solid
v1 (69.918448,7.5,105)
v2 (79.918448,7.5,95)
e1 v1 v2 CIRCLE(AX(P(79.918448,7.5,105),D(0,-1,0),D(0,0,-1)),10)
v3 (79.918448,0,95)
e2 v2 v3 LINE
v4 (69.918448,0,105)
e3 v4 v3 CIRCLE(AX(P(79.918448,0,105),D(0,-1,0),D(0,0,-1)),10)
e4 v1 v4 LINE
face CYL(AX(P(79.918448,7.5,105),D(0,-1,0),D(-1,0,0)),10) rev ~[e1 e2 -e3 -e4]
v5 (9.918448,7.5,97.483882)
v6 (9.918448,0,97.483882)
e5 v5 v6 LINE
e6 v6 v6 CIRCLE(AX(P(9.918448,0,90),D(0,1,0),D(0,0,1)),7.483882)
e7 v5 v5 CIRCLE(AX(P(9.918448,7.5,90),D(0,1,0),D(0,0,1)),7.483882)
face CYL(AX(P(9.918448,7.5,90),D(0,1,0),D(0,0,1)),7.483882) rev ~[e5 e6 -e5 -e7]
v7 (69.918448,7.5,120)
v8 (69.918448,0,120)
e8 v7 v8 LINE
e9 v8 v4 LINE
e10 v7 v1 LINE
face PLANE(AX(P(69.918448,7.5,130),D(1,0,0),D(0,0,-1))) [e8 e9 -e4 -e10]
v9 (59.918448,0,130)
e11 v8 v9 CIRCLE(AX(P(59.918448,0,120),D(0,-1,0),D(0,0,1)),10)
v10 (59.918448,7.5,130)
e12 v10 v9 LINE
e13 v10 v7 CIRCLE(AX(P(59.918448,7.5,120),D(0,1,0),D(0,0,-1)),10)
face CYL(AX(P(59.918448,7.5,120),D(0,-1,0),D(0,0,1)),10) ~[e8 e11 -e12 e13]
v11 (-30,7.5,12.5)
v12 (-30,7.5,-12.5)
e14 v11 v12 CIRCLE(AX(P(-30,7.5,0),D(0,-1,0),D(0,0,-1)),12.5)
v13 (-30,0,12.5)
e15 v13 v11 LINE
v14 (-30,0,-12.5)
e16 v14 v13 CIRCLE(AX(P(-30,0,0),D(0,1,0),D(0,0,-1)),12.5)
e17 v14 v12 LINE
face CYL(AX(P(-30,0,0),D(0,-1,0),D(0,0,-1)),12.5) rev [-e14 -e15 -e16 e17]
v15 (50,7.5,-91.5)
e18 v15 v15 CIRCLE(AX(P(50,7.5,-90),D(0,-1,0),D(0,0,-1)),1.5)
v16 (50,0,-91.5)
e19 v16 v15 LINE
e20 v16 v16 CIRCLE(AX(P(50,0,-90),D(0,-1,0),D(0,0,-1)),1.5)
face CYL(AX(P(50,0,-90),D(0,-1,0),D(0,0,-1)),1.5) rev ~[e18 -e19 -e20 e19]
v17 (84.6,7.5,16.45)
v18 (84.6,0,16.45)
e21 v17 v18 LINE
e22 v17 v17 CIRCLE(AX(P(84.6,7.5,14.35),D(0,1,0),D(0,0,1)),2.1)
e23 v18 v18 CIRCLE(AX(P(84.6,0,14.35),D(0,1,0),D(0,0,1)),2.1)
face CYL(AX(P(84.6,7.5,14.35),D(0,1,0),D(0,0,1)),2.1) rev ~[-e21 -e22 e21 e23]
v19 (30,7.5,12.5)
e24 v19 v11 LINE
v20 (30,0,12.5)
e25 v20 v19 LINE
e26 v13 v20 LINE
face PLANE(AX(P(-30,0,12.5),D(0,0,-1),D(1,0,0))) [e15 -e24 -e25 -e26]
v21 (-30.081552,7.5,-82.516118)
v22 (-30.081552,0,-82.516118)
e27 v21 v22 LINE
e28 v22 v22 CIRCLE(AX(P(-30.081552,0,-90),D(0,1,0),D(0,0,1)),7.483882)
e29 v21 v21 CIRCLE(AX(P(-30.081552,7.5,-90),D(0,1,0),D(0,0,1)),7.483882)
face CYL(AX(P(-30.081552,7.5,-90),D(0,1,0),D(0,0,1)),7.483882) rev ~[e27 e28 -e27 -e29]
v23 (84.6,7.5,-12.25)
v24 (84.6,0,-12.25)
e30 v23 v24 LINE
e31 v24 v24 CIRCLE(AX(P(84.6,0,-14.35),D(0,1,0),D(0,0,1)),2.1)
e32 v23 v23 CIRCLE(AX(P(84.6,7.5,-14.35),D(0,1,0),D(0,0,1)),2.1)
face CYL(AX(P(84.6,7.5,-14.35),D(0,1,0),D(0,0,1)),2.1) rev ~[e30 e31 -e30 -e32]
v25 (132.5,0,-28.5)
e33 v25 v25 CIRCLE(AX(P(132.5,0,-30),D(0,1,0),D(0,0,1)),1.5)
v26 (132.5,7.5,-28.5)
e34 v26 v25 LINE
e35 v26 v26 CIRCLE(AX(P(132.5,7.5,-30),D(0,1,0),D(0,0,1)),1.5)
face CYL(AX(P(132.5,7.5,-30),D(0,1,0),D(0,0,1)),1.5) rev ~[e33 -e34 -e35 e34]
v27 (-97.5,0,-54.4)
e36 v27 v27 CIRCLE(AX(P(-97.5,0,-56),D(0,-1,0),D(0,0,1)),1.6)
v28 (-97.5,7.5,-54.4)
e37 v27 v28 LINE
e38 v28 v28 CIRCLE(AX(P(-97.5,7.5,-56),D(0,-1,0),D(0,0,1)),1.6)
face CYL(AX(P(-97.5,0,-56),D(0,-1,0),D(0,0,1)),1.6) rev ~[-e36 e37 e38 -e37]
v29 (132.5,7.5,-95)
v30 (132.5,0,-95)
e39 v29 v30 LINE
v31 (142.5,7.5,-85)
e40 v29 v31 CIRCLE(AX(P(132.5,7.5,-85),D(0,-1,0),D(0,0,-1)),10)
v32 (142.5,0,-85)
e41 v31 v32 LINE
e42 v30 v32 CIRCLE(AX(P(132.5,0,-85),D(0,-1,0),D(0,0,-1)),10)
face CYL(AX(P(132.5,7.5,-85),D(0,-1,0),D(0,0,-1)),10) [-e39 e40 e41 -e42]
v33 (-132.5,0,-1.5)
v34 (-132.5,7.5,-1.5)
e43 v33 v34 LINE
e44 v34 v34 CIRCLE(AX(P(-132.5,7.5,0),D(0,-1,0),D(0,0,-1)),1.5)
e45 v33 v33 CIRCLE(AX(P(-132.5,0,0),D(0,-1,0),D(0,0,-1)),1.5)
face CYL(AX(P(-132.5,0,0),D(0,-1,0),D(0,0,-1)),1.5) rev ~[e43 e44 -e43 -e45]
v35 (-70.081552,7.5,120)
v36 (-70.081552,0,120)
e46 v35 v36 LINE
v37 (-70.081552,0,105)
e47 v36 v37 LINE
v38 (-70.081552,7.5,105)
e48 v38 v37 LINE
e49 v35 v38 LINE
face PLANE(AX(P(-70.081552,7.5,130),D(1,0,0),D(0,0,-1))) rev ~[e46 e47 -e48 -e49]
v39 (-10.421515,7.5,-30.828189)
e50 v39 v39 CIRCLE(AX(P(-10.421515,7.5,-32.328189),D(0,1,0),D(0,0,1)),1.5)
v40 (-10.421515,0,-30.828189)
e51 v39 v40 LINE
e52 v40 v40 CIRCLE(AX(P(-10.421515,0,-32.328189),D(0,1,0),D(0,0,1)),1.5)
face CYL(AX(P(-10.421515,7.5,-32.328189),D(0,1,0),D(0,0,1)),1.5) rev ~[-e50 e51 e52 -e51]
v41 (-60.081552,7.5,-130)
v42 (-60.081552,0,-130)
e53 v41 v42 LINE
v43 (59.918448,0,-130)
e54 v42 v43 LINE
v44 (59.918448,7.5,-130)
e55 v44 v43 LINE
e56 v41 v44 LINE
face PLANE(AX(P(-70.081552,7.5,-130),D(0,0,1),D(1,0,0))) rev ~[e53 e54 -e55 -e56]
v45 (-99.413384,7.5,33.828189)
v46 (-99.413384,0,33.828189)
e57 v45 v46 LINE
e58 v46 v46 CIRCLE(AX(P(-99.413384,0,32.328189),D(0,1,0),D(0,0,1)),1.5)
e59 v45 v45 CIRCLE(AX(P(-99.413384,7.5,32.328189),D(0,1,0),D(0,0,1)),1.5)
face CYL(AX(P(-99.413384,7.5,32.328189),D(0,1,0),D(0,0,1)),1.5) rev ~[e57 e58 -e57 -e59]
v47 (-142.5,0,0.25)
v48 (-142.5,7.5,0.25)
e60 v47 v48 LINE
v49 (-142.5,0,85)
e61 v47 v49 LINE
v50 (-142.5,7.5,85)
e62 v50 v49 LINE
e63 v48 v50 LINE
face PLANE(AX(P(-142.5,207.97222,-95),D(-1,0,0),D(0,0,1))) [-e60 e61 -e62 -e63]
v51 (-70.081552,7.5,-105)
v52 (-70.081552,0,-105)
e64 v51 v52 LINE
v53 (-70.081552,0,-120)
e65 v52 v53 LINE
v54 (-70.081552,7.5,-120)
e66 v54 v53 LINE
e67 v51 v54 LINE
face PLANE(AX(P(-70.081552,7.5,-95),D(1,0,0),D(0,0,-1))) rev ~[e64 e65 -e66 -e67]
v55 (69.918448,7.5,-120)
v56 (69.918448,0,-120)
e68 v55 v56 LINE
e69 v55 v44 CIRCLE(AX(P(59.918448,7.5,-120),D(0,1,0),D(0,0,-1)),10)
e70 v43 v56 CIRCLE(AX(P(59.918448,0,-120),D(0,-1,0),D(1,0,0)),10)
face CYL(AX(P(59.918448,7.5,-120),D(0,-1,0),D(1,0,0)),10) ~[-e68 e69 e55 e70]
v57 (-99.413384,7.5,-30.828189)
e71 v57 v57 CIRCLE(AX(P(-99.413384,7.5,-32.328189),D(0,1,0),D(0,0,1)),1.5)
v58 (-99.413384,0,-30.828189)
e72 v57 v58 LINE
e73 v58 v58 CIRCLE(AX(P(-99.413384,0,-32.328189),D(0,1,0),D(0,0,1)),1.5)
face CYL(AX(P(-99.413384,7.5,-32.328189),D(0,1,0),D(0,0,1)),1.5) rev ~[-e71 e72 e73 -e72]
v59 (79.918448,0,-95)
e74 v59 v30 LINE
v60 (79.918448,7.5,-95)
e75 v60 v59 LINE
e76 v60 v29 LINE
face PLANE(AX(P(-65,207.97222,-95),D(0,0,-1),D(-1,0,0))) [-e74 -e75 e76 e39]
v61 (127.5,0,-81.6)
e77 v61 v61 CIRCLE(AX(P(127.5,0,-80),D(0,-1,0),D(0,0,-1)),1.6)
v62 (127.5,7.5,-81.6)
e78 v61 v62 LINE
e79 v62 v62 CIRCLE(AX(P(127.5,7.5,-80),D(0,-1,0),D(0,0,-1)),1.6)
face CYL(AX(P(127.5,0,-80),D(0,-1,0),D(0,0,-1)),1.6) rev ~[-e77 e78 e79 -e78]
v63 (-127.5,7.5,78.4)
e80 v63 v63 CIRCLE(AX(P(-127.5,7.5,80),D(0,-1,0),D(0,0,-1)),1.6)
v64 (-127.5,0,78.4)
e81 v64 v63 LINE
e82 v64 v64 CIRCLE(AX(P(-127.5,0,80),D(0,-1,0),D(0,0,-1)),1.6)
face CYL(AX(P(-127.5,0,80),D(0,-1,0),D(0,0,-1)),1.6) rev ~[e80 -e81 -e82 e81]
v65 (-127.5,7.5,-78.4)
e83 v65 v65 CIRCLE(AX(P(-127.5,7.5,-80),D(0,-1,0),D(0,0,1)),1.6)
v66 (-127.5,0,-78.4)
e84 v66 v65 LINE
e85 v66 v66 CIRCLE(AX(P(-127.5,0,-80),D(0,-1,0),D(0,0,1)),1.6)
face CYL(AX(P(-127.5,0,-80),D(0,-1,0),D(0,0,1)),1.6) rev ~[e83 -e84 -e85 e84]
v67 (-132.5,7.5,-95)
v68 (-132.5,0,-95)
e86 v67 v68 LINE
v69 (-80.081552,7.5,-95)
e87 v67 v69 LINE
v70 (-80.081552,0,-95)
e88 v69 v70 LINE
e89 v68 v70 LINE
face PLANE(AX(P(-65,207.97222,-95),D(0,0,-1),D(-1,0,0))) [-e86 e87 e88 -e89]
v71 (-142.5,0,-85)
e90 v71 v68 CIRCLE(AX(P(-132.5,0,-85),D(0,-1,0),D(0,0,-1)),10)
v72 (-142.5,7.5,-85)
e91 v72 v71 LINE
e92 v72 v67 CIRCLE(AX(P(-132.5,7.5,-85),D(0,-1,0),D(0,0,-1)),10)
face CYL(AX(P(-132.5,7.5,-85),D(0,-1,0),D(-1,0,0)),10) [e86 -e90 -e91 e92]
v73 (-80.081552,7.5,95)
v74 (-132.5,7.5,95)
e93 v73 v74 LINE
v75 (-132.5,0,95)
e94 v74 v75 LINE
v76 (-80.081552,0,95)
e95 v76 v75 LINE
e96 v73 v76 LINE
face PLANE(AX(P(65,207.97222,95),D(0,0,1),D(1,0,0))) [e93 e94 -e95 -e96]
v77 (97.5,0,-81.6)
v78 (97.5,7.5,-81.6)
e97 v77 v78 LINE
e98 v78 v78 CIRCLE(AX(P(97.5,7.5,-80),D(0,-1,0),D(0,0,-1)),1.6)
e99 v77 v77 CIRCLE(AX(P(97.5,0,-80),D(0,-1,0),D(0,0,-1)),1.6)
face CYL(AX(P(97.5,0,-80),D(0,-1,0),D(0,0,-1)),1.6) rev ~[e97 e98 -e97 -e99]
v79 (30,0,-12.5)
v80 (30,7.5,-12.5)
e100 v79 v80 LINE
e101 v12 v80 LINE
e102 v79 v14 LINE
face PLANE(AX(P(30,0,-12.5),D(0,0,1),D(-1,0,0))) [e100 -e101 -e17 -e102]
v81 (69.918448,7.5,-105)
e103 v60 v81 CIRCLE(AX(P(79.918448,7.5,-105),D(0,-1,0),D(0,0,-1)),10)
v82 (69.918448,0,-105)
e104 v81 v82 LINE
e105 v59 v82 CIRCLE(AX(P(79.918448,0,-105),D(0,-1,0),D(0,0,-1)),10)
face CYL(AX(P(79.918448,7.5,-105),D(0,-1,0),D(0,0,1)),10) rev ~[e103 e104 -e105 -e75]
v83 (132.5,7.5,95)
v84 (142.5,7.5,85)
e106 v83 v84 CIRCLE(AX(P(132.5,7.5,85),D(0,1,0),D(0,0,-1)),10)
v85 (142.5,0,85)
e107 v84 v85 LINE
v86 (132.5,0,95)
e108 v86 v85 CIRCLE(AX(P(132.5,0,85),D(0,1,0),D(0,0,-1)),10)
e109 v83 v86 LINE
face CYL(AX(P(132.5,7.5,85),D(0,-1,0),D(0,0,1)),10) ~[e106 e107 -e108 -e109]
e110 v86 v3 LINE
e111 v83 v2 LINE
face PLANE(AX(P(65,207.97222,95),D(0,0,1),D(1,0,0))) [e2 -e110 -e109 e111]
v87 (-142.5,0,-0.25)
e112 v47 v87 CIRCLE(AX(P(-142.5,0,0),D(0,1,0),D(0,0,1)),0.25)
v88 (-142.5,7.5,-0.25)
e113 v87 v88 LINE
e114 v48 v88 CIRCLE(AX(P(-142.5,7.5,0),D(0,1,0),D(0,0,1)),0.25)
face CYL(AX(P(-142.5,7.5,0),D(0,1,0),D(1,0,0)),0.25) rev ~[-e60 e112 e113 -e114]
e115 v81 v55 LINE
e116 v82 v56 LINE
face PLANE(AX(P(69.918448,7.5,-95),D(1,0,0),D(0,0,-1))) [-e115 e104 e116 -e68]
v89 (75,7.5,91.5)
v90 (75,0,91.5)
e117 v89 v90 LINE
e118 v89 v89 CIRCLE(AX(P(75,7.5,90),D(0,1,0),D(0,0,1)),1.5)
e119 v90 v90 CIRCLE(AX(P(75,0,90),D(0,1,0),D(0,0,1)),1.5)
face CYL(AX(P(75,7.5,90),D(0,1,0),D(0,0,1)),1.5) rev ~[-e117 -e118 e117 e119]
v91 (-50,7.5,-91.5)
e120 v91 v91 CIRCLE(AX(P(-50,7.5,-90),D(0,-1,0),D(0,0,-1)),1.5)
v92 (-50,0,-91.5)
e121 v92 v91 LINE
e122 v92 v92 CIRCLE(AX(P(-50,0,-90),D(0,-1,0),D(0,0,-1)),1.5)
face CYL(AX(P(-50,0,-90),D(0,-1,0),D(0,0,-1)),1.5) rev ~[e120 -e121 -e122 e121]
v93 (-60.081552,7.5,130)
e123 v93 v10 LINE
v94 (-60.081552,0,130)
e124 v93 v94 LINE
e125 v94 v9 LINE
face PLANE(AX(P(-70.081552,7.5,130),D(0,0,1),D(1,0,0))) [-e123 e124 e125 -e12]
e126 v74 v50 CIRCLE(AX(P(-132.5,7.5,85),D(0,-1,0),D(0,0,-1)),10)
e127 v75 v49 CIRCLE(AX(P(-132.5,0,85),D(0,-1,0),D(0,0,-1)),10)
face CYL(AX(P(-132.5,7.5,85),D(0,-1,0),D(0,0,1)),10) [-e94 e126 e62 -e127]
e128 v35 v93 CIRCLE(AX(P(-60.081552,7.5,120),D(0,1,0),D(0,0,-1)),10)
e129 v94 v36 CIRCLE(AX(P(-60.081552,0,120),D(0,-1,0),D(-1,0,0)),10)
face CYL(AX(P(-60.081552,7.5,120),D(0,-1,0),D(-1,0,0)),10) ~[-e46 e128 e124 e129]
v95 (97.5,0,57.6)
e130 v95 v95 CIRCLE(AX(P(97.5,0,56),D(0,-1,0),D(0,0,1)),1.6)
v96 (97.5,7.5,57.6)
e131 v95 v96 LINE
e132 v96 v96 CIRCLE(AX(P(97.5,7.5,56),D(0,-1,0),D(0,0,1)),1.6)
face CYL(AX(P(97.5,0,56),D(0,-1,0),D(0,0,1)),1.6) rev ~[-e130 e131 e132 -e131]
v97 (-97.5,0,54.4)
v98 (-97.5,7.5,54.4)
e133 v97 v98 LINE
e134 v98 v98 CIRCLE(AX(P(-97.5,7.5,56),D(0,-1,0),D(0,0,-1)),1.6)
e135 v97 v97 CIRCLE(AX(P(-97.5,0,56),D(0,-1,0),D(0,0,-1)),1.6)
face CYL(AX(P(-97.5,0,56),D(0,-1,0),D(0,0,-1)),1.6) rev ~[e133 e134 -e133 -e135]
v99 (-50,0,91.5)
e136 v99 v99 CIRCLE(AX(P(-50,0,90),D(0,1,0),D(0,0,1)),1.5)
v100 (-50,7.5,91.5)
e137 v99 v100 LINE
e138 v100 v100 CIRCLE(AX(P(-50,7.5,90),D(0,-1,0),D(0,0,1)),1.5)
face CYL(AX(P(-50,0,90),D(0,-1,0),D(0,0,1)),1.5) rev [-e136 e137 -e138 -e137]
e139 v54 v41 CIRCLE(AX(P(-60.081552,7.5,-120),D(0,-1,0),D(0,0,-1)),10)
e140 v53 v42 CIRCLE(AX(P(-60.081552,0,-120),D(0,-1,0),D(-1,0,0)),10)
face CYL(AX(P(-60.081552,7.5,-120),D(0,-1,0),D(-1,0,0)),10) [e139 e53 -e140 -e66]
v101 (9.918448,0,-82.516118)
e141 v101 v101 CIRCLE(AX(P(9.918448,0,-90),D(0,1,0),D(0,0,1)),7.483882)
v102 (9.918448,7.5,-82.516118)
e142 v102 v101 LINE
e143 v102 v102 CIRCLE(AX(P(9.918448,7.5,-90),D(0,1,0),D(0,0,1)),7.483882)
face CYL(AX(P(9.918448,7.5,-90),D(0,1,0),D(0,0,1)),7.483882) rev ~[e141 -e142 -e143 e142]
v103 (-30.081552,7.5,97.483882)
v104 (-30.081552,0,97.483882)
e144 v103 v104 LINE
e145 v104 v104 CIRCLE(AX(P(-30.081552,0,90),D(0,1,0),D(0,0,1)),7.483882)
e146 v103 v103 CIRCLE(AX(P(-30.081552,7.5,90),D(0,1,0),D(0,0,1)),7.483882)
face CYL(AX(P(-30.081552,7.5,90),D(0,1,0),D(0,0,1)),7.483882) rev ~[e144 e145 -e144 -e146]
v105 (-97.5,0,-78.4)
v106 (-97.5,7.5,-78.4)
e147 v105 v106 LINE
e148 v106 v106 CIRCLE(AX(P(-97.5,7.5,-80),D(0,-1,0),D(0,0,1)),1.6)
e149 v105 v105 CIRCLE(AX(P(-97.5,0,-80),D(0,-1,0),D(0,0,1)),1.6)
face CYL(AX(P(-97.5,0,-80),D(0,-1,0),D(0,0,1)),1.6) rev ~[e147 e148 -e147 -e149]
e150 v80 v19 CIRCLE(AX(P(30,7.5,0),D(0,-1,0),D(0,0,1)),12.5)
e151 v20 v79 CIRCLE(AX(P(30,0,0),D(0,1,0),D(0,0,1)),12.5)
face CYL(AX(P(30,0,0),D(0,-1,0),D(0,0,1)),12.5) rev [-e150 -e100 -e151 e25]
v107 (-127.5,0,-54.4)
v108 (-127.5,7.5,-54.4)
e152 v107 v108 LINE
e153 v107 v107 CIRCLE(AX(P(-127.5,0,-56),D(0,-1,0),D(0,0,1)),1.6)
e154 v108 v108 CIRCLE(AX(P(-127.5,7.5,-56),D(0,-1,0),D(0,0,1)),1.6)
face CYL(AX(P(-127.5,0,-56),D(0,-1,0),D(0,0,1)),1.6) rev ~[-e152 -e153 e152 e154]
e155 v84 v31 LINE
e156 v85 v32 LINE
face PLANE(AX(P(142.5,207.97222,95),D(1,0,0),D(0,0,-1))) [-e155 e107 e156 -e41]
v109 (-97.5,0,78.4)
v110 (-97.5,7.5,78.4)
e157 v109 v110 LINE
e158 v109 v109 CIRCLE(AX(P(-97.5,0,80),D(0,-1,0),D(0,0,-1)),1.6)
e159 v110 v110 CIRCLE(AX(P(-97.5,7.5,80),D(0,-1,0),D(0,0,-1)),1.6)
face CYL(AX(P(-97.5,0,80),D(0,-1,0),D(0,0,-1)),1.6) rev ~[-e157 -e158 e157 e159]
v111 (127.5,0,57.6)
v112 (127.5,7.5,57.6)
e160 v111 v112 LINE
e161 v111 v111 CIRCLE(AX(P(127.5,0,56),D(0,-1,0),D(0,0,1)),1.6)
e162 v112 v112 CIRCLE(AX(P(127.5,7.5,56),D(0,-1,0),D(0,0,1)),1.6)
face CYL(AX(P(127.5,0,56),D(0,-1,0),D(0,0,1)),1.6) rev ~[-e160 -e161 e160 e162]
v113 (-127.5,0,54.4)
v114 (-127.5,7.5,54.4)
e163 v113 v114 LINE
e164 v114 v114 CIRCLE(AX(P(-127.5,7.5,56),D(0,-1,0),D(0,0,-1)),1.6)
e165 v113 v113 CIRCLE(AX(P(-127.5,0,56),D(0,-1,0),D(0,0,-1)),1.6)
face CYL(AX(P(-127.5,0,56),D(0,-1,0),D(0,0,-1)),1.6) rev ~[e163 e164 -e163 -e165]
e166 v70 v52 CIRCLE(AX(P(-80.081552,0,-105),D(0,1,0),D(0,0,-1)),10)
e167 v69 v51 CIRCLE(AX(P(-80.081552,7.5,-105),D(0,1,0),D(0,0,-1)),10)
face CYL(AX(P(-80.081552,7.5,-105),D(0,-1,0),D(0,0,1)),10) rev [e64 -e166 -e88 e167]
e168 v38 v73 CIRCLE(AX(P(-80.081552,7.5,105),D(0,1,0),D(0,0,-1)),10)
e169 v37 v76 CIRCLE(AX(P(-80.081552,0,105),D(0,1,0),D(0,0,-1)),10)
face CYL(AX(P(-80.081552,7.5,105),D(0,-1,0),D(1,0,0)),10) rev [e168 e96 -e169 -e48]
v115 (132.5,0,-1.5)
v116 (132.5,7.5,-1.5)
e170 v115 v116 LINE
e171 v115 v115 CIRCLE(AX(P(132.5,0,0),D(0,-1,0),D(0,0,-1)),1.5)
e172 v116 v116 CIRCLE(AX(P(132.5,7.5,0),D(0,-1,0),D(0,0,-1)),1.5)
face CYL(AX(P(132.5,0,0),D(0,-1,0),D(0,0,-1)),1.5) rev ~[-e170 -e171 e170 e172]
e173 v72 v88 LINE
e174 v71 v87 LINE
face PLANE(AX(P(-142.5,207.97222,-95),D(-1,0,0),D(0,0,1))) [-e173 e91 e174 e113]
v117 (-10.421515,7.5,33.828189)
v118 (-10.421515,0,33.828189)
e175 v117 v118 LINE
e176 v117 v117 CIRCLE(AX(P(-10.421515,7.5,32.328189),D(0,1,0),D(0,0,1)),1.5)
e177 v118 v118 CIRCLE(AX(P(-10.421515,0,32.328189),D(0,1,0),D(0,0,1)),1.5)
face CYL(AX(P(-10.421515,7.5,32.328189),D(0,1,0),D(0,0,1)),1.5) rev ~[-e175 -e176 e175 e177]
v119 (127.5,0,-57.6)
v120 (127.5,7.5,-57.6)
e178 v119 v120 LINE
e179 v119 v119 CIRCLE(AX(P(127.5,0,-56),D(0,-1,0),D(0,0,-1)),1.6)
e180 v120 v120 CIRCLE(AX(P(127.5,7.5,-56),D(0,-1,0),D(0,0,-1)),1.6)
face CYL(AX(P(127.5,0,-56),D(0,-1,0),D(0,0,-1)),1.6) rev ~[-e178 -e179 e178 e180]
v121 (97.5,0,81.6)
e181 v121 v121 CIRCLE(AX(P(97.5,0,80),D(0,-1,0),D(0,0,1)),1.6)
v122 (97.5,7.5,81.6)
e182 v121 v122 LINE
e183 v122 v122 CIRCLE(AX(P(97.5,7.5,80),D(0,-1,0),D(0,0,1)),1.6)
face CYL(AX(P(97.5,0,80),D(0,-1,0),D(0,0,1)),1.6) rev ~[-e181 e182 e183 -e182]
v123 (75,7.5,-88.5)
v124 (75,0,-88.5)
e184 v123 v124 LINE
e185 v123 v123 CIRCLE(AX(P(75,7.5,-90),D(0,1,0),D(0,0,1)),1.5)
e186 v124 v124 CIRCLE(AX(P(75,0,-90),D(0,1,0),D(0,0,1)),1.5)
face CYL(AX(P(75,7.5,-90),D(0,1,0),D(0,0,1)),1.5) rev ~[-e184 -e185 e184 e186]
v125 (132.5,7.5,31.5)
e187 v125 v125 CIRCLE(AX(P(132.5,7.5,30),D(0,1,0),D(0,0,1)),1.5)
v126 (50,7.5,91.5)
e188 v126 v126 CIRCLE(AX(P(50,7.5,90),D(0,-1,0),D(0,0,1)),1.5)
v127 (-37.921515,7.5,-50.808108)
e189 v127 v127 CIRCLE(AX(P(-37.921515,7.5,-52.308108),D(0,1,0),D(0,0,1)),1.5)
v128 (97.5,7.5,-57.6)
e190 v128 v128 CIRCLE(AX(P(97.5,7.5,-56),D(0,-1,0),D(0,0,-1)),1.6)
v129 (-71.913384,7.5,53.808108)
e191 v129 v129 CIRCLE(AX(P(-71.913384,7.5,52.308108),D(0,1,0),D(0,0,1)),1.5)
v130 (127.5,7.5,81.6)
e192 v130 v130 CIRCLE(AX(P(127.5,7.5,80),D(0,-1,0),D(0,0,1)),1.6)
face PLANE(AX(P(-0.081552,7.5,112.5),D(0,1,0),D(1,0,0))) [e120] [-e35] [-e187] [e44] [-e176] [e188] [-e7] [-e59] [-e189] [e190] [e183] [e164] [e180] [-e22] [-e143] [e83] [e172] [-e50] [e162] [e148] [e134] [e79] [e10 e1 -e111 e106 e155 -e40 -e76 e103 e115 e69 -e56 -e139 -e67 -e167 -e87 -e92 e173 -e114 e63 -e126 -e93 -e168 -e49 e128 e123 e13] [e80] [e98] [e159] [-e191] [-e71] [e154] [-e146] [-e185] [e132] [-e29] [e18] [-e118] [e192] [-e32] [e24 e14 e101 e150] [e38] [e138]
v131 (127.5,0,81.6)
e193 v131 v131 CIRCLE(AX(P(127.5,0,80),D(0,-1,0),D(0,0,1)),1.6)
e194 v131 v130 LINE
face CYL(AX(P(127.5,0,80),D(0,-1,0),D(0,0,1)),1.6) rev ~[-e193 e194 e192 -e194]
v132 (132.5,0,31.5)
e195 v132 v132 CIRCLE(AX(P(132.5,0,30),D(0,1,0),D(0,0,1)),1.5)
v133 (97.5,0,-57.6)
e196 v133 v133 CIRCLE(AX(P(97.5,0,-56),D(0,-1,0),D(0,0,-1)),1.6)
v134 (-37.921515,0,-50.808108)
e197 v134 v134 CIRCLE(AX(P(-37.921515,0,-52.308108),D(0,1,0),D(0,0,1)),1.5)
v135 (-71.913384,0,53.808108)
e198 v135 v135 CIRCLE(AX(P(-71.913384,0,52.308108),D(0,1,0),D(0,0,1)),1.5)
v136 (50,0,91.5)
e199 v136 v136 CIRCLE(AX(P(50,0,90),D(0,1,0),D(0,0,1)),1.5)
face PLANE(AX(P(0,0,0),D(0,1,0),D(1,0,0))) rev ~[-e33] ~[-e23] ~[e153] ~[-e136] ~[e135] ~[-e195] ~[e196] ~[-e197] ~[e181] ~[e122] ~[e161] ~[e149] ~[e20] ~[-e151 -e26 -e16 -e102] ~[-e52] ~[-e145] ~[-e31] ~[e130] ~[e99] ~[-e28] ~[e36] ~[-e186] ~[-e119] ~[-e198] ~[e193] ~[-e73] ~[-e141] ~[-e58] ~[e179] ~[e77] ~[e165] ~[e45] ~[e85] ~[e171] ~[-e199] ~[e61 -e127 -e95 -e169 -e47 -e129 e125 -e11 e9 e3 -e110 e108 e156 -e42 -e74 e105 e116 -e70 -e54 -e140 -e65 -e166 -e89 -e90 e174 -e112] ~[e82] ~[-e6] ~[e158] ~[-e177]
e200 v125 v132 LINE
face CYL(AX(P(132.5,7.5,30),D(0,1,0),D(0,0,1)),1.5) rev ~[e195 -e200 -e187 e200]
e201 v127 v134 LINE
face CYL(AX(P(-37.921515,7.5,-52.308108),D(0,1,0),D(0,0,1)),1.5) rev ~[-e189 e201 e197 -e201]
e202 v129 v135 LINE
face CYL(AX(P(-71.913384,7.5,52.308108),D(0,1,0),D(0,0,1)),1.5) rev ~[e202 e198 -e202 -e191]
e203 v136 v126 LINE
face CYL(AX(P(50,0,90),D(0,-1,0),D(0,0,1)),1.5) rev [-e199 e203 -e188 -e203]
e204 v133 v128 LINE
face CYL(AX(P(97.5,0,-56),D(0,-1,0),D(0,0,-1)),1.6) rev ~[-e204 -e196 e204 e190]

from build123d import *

# Parameters (mm, degrees)
SKETCH_1_W                = 300
SKETCH_1_H                = 300
EXTRUDE_1_DEPTH           = 7.5
SKETCH_2_W                = 80
SKETCH_2_H                = 50
CUT_EXTRUDE_1_DEPTH       = 50
SKETCH_3_R                = 1.6
SKETCH_3_R_2              = 1.600000001
SKETCH_3_R_3              = 1.599999999
CUT_EXTRUDE_2_DEPTH       = 500
CUT_EXTRUDE_4_DEPTH       = 0.01
SKETCH_6_W                = 140
SKETCH_6_H                = 5
CUT_EXTRUDE_5_DEPTH       = 400
SKETCH_7_W                = 140
SKETCH_7_H                = 5
CUT_EXTRUDE_6_DEPTH       = 500
SKETCH_8_W                = 2.5
SKETCH_8_H                = 200
CUT_EXTRUDE_7_DEPTH       = 500
SKETCH_9_W                = 2.5
SKETCH_9_H                = 200
CUT_EXTRUDE_8_DEPTH       = 500
FILLET_1_R                = 10
FILLET_2_R                = 10
FILLET_3_R                = 10
FILLET_4_R                = 10
FILLET_5_R                = 10
FILLET_6_R                = 10
SKETCH_11_R               = 1.5
CUT_EXTRUDE_9_DEPTH       = 500
SKETCH_12_R               = 1.5
CUT_EXTRUDE_10_DEPTH      = 500
CUT_EXTRUDE_11_DEPTH      = 50
SKETCH_14_R               = 5.782308343
SKETCH_14_R_2             = 5.248483765
SKETCH_14_R_3             = 6.275259234
SKETCH_14_R_4             = 6.509804592
SKETCH_14_R_5             = 6.573235723
SKETCH_14_R_6             = 7.165134631
SKETCH_14_R_7             = 4.888351542
SKETCH_14_R_8             = 5.806631969
SKETCH_14_R_9             = 4.239213073
EXTRUDE_2_DEPTH           = 7.5
SKETCH_15_R               = 3.446800016
EXTRUDE_3_DEPTH           = 7.5
SKETCH_16_W               = 57.029416174
SKETCH_16_H               = 109.049491738
EXTRUDE_4_DEPTH           = 7.5
CUT_EXTRUDE_12_DEPTH      = 30
SKETCH_18_R               = 1.5
CUT_EXTRUDE_13_DEPTH      = 10
EXTRUDE_5_DEPTH           = 7.5
SKETCH_20_R               = 0.5
CUT_EXTRUDE_14_DEPTH      = 1000
CUT_EXTRUDE_15_DEPTH      = 207.972220358
CUT_EXTRUDE_15_DEPTH_BACK = 207.972220358
SKETCH_21_OUTSIDE_W       = 379.748
SKETCH_21_OUTSIDE_H       = 374.748
SKETCH_23_R               = 4.616010881
SKETCH_23_R_2             = 4.086725284
SKETCH_23_R_3             = 3.624465814
SKETCH_23_R_4             = 3.978091291
SKETCH_23_W               = 56.227674063
SKETCH_23_H               = 41.422628231
SKETCH_23_W_2             = 51.583888058
SKETCH_23_H_2             = 39.718934523
SKETCH_23_W_3             = 52.565665665
SKETCH_23_H_3             = 44.114209491
EXTRUDE_6_DEPTH           = 7.5
SKETCH_22_R               = 1.6
CUT_EXTRUDE_16_DEPTH      = 1000
SKETCH_24_W               = 28.555531596
SKETCH_24_H               = 14.710425368
SKETCH_24_W_2             = 20.600864098
SKETCH_24_H_2             = 23.364744768
SKETCH_24_W_3             = 21.519352923
SKETCH_24_H_3             = 16.123370595
SKETCH_24_W_4             = 6.855799314
SKETCH_24_H_4             = 7.58099095
SKETCH_24_W_5             = 18.642963804
SKETCH_24_H_5             = 10.332938667
SKETCH_24_W_6             = 12.895127715
SKETCH_24_H_6             = 5.848414039
EXTRUDE_7_DEPTH           = 7.5
SKETCH_25_R               = 1.5
CUT_EXTRUDE_17_DEPTH      = 100
FILLET_7_R                = 10
FILLET_8_R                = 10
SKETCH_26_R               = 0.25
CUT_EXTRUDE_18_DEPTH      = 10
CUT_EXTRUDE_19_DEPTH      = 10
SKETCH_29_R               = 1.5
CUT_EXTRUDE_20_DEPTH      = 200
SKETCH_30_R               = 1.5
CUT_EXTRUDE_21_DEPTH      = 200
SKETCH_31_R               = 1.5
CUT_EXTRUDE_22_DEPTH      = 15
SKETCH_32_R               = 2
CUT_EXTRUDE_23_DEPTH      = 15
SKETCH_33_R               = 1.5
CUT_EXTRUDE_24_DEPTH      = 10
SKETCH_34_W               = 140
SKETCH_34_H               = 35
EXTRUDE_8_DEPTH           = 8
FILLET_9_R                = 10
SKETCH_36_R               = 7.48388229
CUT_EXTRUDE_25_DEPTH      = 10
SKETCH_37_R               = 7.48388229
CUT_EXTRUDE_26_DEPTH      = 10
SKETCH_38_R               = 2
SKETCH_38_R_2             = 2.1
CUT_EXTRUDE_27_DEPTH      = 8
SKETCH_39_R               = 2.1
CUT_EXTRUDE_28_DEPTH      = 8
SKETCH_41_R               = 2
EXTRUDE_9_DEPTH           = 8
SKETCH_42_W               = 397.154342418
SKETCH_42_H               = 301.389568828
CUT_EXTRUDE_29_DEPTH      = 10


with BuildPart() as part:
    # 草图1 → 凸台-拉伸1 (new body)
    with BuildSketch(Plane(origin=(0, 0, 0), x_dir=(1, 0, 0), z_dir=(0, 1, 0))):
        Rectangle(SKETCH_1_W, SKETCH_1_H)
    extrude(amount=EXTRUDE_1_DEPTH)

    # 草图2 → 切除-拉伸1 (cut)
    with BuildSketch(Plane(origin=(0, 0, 0), x_dir=(-1, 0, 0), z_dir=(0, -1, 0))):
        with Locations((-110, -125)):
            Rectangle(SKETCH_2_W, SKETCH_2_H)
        with Locations((-110, 125)):
            Rectangle(SKETCH_2_W, SKETCH_2_H)
        with Locations((110, -125)):
            Rectangle(SKETCH_2_W, SKETCH_2_H)
        with Locations((110, 125)):
            Rectangle(SKETCH_2_W, SKETCH_2_H)
    extrude(amount=-CUT_EXTRUDE_1_DEPTH, mode=Mode.SUBTRACT)

    # 草图3 → 切除-拉伸2 (cut)
    with BuildSketch(Plane.XZ):
        with Locations(Location((132.5, 81.505719169, 0), (0, 0, 270))):
            Circle(SKETCH_3_R)
        with Locations(Location((132.5, 57.505719169, 0), (0, 0, 270))):
            Circle(SKETCH_3_R)
        with Locations(Location((102.5, 81.505719169, 0), (0, 0, 270))):
            Circle(SKETCH_3_R)
        with Locations(Location((102.5, 57.505719169, 0), (0, 0, 270))):
            Circle(SKETCH_3_R)
        with Locations(Location((-102.5, 81.505719169, 0), (0, 0, 270))):
            Circle(SKETCH_3_R_2)
        with Locations(Location((-102.5, 57.505719169, 0), (0, 0, 270))):
            Circle(SKETCH_3_R_2)
        with Locations(Location((-132.5, 81.505719169, 0), (0, 0, 270))):
            Circle(SKETCH_3_R_2)
        with Locations(Location((-132.5, 57.505719169, 0), (0, 0, 270))):
            Circle(SKETCH_3_R_2)
        with Locations(Location((-132.5, -57.505719169, 0), (0, 0, 270))):
            Circle(SKETCH_3_R_3)
        with Locations(Location((-132.5, -81.505719169, 0), (0, 0, 270))):
            Circle(SKETCH_3_R_3)
        with Locations(Location((-102.5, -57.505719169, 0), (0, 0, 270))):
            Circle(SKETCH_3_R_3)
        with Locations(Location((-102.5, -81.505719169, 0), (0, 0, 270))):
            Circle(SKETCH_3_R_3)
        with Locations(Location((132.5, -81.505719169, 0), (0, 0, 270))):
            Circle(SKETCH_3_R)
        with Locations(Location((132.5, -57.505719169, 0), (0, 0, 270))):
            Circle(SKETCH_3_R)
        with Locations(Location((102.5, -57.505719169, 0), (0, 0, 270))):
            Circle(SKETCH_3_R)
        with Locations(Location((102.5, -81.505719169, 0), (0, 0, 270))):
            Circle(SKETCH_3_R)
    extrude(amount=-CUT_EXTRUDE_2_DEPTH, mode=Mode.SUBTRACT)

    # 草图5 → 切除-拉伸4 (cut)
    with BuildSketch(Plane.XZ):
        Polygon((145.77960396, 0), (141.689907669, 4.08969629), (141.689907669, -4.08969629), align=None)
    extrude(amount=-CUT_EXTRUDE_4_DEPTH, mode=Mode.SUBTRACT)

    # 草图6 → 切除-拉伸5 (cut)
    with BuildSketch(Plane(origin=(0, 7.5, 0), x_dir=(1, 0, 0), z_dir=(0, 1, 0))):
        with Locations((0, 147.5)):
            Rectangle(SKETCH_6_W, SKETCH_6_H)
    extrude(amount=-CUT_EXTRUDE_5_DEPTH, mode=Mode.SUBTRACT)

    # 草图7 → 切除-拉伸6 (cut)
    with BuildSketch(Plane(origin=(0, 7.5, 0), x_dir=(1, 0, 0), z_dir=(0, 1, 0))):
        with Locations((0, -147.5)):
            Rectangle(SKETCH_7_W, SKETCH_7_H)
    extrude(amount=-CUT_EXTRUDE_6_DEPTH, mode=Mode.SUBTRACT)

    # 草图8 → 切除-拉伸7 (cut)
    with BuildSketch(Plane(origin=(0, 7.5, 0), x_dir=(1, 0, 0), z_dir=(0, 1, 0))):
        with Locations((-148.75, 0)):
            Rectangle(SKETCH_8_W, SKETCH_8_H)
    extrude(amount=-CUT_EXTRUDE_7_DEPTH, mode=Mode.SUBTRACT)

    # 草图9 → 切除-拉伸8 (cut)
    with BuildSketch(Plane(origin=(0, 7.5, 0), x_dir=(1, 0, 0), z_dir=(0, 1, 0))):
        with Locations((148.75, 0)):
            Rectangle(SKETCH_9_W, SKETCH_9_H)
    extrude(amount=-CUT_EXTRUDE_8_DEPTH, mode=Mode.SUBTRACT)

    # 圆角1
    fillet_1_edges = [part.edges().sort_by_distance(p)[0] for p in [
        (-70, 3.75, 145),
        (70, 3.75, 145),
    ]]
    fillet(fillet_1_edges, radius=FILLET_1_R)

    # 圆角2
    fillet_2_edges = [part.edges().sort_by_distance(p)[0] for p in [
        (-70, 3.75, 100),
        (70, 3.75, 100),
    ]]
    fillet(fillet_2_edges, radius=FILLET_2_R)

    # 圆角3
    fillet_3_edges = [part.edges().sort_by_distance(p)[0] for p in [
        (-147.5, 3.75, 100),
        (147.5, 3.75, 100),
    ]]
    fillet(fillet_3_edges, radius=FILLET_3_R)

    # 圆角4
    fillet_4_edges = [part.edges().sort_by_distance(p)[0] for p in [
        (-147.5, 3.75, -100),
        (147.5, 3.75, -100),
    ]]
    fillet(fillet_4_edges, radius=FILLET_4_R)

    # 圆角5
    fillet_5_edges = [part.edges().sort_by_distance(p)[0] for p in [
        (70, 3.75, -100),
        (-70, 3.75, -100),
    ]]
    fillet(fillet_5_edges, radius=FILLET_5_R)

    # 圆角6
    fillet_6_edges = [part.edges().sort_by_distance(p)[0] for p in [
        (70, 3.75, -145),
        (-70, 3.75, -145),
    ]]
    fillet(fillet_6_edges, radius=FILLET_6_R)

    # 草图11 → 切除-拉伸9 (cut)
    with BuildSketch(Plane.XZ):
        with Locations(Location((-50, 125, 0), (0, 0, 270))):
            Circle(SKETCH_11_R)
    extrude(amount=-CUT_EXTRUDE_9_DEPTH, mode=Mode.SUBTRACT)

    # 草图12 → 切除-拉伸10 (cut)
    with BuildSketch(Plane.XZ):
        with Locations(Location((50, 125, 0), (0, 0, 270))):
            Circle(SKETCH_12_R)
        with Locations(Location((70, 80, 0), (0, 0, 270))):
            Circle(SKETCH_12_R)
        with Locations(Location((70, 0, 0), (0, 0, 270))):
            Circle(SKETCH_12_R)
        with Locations(Location((70, -80, 0), (0, 0, 270))):
            Circle(SKETCH_12_R)
        with Locations(Location((50, -125, 0), (0, 0, 270))):
            Circle(SKETCH_12_R)
        with Locations(Location((-50, -125, 0), (0, 0, 270))):
            Circle(SKETCH_12_R)
        with Locations(Location((-82.5, -85, 0), (0, 0, 270))):
            Circle(SKETCH_12_R)
        with Locations(Location((-132.5, 0, 0), (0, 0, 270))):
            Circle(SKETCH_12_R)
        with Locations(Location((-50, 125, 0), (0, 0, 270))):
            Circle(SKETCH_12_R)
        with Locations(Location((-82.5, 85, 0), (0, 0, 270))):
            Circle(SKETCH_12_R)
    extrude(amount=-CUT_EXTRUDE_10_DEPTH, mode=Mode.SUBTRACT)

    # 草图13 → 切除-拉伸11 (cut)
    with BuildSketch(Plane(origin=(0, 7.5, 0), x_dir=(1, 0, 0), z_dir=(0, 1, 0))):
        with BuildLine():
            Line((-10, -20), (-10, 20))
            ThreePointArc((-10, 20), (0, 30), (10, 20))
            Line((10, 20), (10, -20))
            ThreePointArc((10, -20), (0, -30), (-10, -20))
        make_face()
    extrude(amount=-CUT_EXTRUDE_11_DEPTH, mode=Mode.SUBTRACT)

    # 草图14 → 凸台-拉伸2 (add)
    with BuildSketch(Plane(origin=(0, 7.5, 0), x_dir=(1, 0, 0), z_dir=(0, 1, 0))):
        with Locations((-82.5, 85)):
            Circle(SKETCH_14_R)
        with Locations((-50, 125)):
            Circle(SKETCH_14_R_2)
        with Locations((50, 125)):
            Circle(SKETCH_14_R_3)
        with Locations((69.610460146, 80.278757175)):
            Circle(SKETCH_14_R_4)
        with Locations((70, 0)):
            Circle(SKETCH_14_R_5)
        with Locations((70, -80)):
            Circle(SKETCH_14_R_6)
        with Locations((-50, -125)):
            Circle(SKETCH_14_R_7)
        with Locations((49.518251106, -125)):
            Circle(SKETCH_14_R_8)
        with Locations((-82.5, -85)):
            Circle(SKETCH_14_R_9)
    extrude(amount=-EXTRUDE_2_DEPTH)

    # 草图15 → 凸台-拉伸3 (add)
    with BuildSketch(Plane(origin=(0, 7.5, 0), x_dir=(1, 0, 0), z_dir=(0, 1, 0))):
        with Locations((-132.5, 0)):
            Circle(SKETCH_15_R)
    extrude(amount=-EXTRUDE_3_DEPTH)

    # 草图16 → 凸台-拉伸4 (add)
    with BuildSketch(Plane.XZ):
        Rectangle(SKETCH_16_W, SKETCH_16_H)
    extrude(amount=-EXTRUDE_4_DEPTH)

    # 草图17 → 切除-拉伸12 (cut)
    with BuildSketch(Plane.XZ):
        with BuildLine():
            Line((-30, 12.5), (30, 12.5))
            ThreePointArc((30, 12.5), (42.5, 0), (30, -12.5))
            Line((30, -12.5), (-30, -12.5))
            ThreePointArc((-30, -12.5), (-42.5, 0), (-30, 12.5))
        make_face()
    extrude(amount=-CUT_EXTRUDE_12_DEPTH, mode=Mode.SUBTRACT)

    # 草图18 → 切除-拉伸13 (cut)
    with BuildSketch(Plane.XZ):
        with Locations(Location((-55, 137, 0), (0, 0, 270))):
            Circle(SKETCH_18_R)
        with Locations(Location((55, 137, 0), (0, 0, 270))):
            Circle(SKETCH_18_R)
        with Locations(Location((-137.5, 0, 0), (0, 0, 270))):
            Circle(SKETCH_18_R)
        with Locations(Location((137.5, 0, 0), (0, 0, 270))):
            Circle(SKETCH_18_R)
        with Locations(Location((-55, -137, 0), (0, 0, 270))):
            Circle(SKETCH_18_R)
        with Locations(Location((55, -137, 0), (0, 0, 270))):
            Circle(SKETCH_18_R)
    extrude(amount=-CUT_EXTRUDE_13_DEPTH, mode=Mode.SUBTRACT)

    # 草图19 → 凸台-拉伸5 (add)
    with BuildSketch(Plane.XZ):
        Polygon((140.380015549, 6.180856963), (140.610841427, -5.888038965), (146.94206552, -3.843581185), (146.57933914, 2.355742406), align=None)
    extrude(amount=-EXTRUDE_5_DEPTH)

    # 草图20 → 切除-拉伸14 (cut)
    with BuildSketch(Plane.XZ):
        with Locations((147.5, 0)):
            Circle(SKETCH_20_R)
    extrude(amount=-CUT_EXTRUDE_14_DEPTH, mode=Mode.SUBTRACT)

    # 草图21 outside → 切除-拉伸15 (cut, two sides: drawn at the far end of the back side and taken through both)
    with BuildSketch(Plane.XZ.offset(-CUT_EXTRUDE_15_DEPTH_BACK)):
        Rectangle(SKETCH_21_OUTSIDE_W, SKETCH_21_OUTSIDE_H)
        Polygon((-65, 140), (65, 140), (65, 95), (142.5, 95), (142.5, -95), (65, -95), (65, -140), (-65, -140), (-65, -95), (-142.5, -95), (-142.5, 95), (-65, 95), align=None, mode=Mode.SUBTRACT)
    extrude(amount=CUT_EXTRUDE_15_DEPTH + CUT_EXTRUDE_15_DEPTH_BACK, mode=Mode.SUBTRACT)

    # 草图23 → 凸台-拉伸6 (add)
    with BuildSketch(Plane.XZ):
        with Locations((-132.5, -57.505719169)):
            Circle(SKETCH_23_R)
        with Locations((-102.5, -57.505719169)):
            Circle(SKETCH_23_R_2)
        with Locations((-132.5, -81.505719169)):
            Circle(SKETCH_23_R_3)
        with Locations((-102.5, -81.505719169)):
            Circle(SKETCH_23_R_4)
        with Locations((109.998842213, -66.773107799)):
            Rectangle(SKETCH_23_W, SKETCH_23_H)
        with Locations((112.320735215, 69.046422402)):
            Rectangle(SKETCH_23_W_2, SKETCH_23_H_2)
        with Locations((-111.52219443, 66.848784918)):
            Rectangle(SKETCH_23_W_3, SKETCH_23_H_3)
    extrude(amount=-EXTRUDE_6_DEPTH)

    # 草图22 → 切除-拉伸16 (cut)
    with BuildSketch(Plane.XZ):
        with Locations(Location((-127.5, 80, 0), (0, 0, 270))):
            Circle(SKETCH_22_R)
        with Locations(Location((-97.5, 80, 0), (0, 0, 270))):
            Circle(SKETCH_22_R)
        with Locations(Location((-127.5, 56, 0), (0, 0, 270))):
            Circle(SKETCH_22_R)
        with Locations(Location((-97.5, 56, 0), (0, 0, 270))):
            Circle(SKETCH_22_R)
        with Locations(Location((97.5, 56, 0), (0, 0, 90))):
            Circle(SKETCH_22_R)
        with Locations(Location((127.5, 56, 0), (0, 0, 90))):
            Circle(SKETCH_22_R)
        with Locations(Location((127.5, 80, 0), (0, 0, 90))):
            Circle(SKETCH_22_R)
        with Locations(Location((97.5, 80, 0), (0, 0, 90))):
            Circle(SKETCH_22_R)
        with Locations(Location((97.5, -80, 0), (0, 0, 270))):
            Circle(SKETCH_22_R)
        with Locations(Location((127.5, -80, 0), (0, 0, 270))):
            Circle(SKETCH_22_R)
        with Locations(Location((127.5, -56, 0), (0, 0, 270))):
            Circle(SKETCH_22_R)
        with Locations(Location((97.5, -56, 0), (0, 0, 270))):
            Circle(SKETCH_22_R)
        with Locations(Location((-97.5, -56, 0), (0, 0, 90))):
            Circle(SKETCH_22_R)
        with Locations(Location((-127.5, -56, 0), (0, 0, 90))):
            Circle(SKETCH_22_R)
        with Locations(Location((-97.5, -80, 0), (0, 0, 90))):
            Circle(SKETCH_22_R)
        with Locations(Location((-127.5, -80, 0), (0, 0, 90))):
            Circle(SKETCH_22_R)
    extrude(amount=-CUT_EXTRUDE_16_DEPTH, mode=Mode.SUBTRACT)

    # 草图24 → 凸台-拉伸7 (add)
    with BuildSketch(Plane.XZ):
        with Locations((-126.345327327, -2.879380062)):
            Rectangle(SKETCH_24_W, SKETCH_24_H)
        with Locations((129.738191057, 1.447779638)):
            Rectangle(SKETCH_24_W_2, SKETCH_24_H_2)
        with Locations((50.73825527, -131.209674212)):
            Rectangle(SKETCH_24_W_3, SKETCH_24_H_3)
        with Locations((-54.842271715, -135.480864034)):
            Rectangle(SKETCH_24_W_4, SKETCH_24_H_4)
        with Locations((-50.653635574, 133.626170949)):
            Rectangle(SKETCH_24_W_5, SKETCH_24_H_5)
        with Locations((55.050367874, 135.868433262)):
            Rectangle(SKETCH_24_W_6, SKETCH_24_H_6)
    extrude(amount=-EXTRUDE_7_DEPTH)

    # 草图25 → 切除-拉伸17 (cut)
    with BuildSketch(Plane.XZ):
        with Locations(Location((-50, 132, 0), (0, 0, 270))):
            Circle(SKETCH_25_R)
        with Locations(Location((50, 132, 0), (0, 0, 270))):
            Circle(SKETCH_25_R)
        with Locations(Location((-132.5, 0, 0), (0, 0, 270))):
            Circle(SKETCH_25_R)
        with Locations(Location((132.5, 0, 0), (0, 0, 270))):
            Circle(SKETCH_25_R)
        with Locations(Location((50, -132, 0), (0, 0, 90))):
            Circle(SKETCH_25_R)
        with Locations(Location((-50, -132, 0), (0, 0, 90))):
            Circle(SKETCH_25_R)
    extrude(amount=-CUT_EXTRUDE_17_DEPTH, mode=Mode.SUBTRACT)

    # 圆角7
    fillet_7_edges = [part.edges().sort_by_distance(p)[0] for p in [
        (-142.5, 3.75, 95),
        (-65, 3.75, 95),
        (-65, 3.75, 140),
        (65, 3.75, 140),
        (65, 3.75, 95),
        (142.5, 3.75, 95),
    ]]
    fillet(fillet_7_edges, radius=FILLET_7_R)

    # 圆角8
    fillet_8_edges = [part.edges().sort_by_distance(p)[0] for p in [
        (-65, 3.75, -95),
        (-142.5, 3.75, -95),
        (142.5, 3.75, -95),
        (65, 3.75, -95),
        (65, 3.75, -140),
        (-65, 3.75, -140),
    ]]
    fillet(fillet_8_edges, radius=FILLET_8_R)

    # 草图26 → 切除-拉伸18 (cut)
    with BuildSketch(Plane(origin=(0, 7.5, 0), x_dir=(1, 0, 0), z_dir=(0, 1, 0))):
        with Locations((-142.5, 0)):
            Circle(SKETCH_26_R)
    extrude(amount=-CUT_EXTRUDE_18_DEPTH, mode=Mode.SUBTRACT)

    # 草图28 → 切除-拉伸19 (cut)
    with BuildSketch(Plane(origin=(0, 7.5, 0), x_dir=(1, 0, 0), z_dir=(0, 1, 0))):
        Polygon((-132.5, 95), (132.5, 95), (99.577100294, 183.323578111), (-104.870394975, 176.934593884), align=None)
        Polygon((-86.638595946, -95), (91.644780197, -95), (76.322211303, -162.508201256), (-68.226458863, -151.844542526), align=None)
    extrude(amount=-CUT_EXTRUDE_19_DEPTH, mode=Mode.SUBTRACT)

    # 草图29 → 切除-拉伸20 (cut)
    with BuildSketch(Plane.XZ):
        with Locations(Location((-50, -90, 0), (0, 0, 270))):
            Circle(SKETCH_29_R)
        with Locations(Location((50, -90, 0), (0, 0, 270))):
            Circle(SKETCH_29_R)
    cut_extrude_20 = extrude(amount=-CUT_EXTRUDE_20_DEPTH, mode=Mode.SUBTRACT)

    # 镜向1: 切除-拉伸20 across plane
    add(cut_extrude_20.mirror(Plane.XY), mode=Mode.SUBTRACT)

    # 草图30 → 切除-拉伸21 (cut)
    with BuildSketch(Plane(origin=(0, 7.5, 0), x_dir=(1, 0, 0), z_dir=(0, 1, 0))):
        with Locations(Location((132.5, 30, 0), (0, 0, 270))):
            Circle(SKETCH_30_R)
        with Locations(Location((132.5, -30, 0), (0, 0, 270))):
            Circle(SKETCH_30_R)
    extrude(amount=-CUT_EXTRUDE_21_DEPTH, mode=Mode.SUBTRACT)

    # 草图31 → 切除-拉伸22 (cut)
    with BuildSketch(Plane(origin=(0, 7.5, 0), x_dir=(1, 0, 0), z_dir=(0, 1, 0))):
        with Locations(Location((75, 90, 0), (0, 0, 270))):
            Circle(SKETCH_31_R)
        with Locations(Location((75, -90, 0), (0, 0, 270))):
            Circle(SKETCH_31_R)
    extrude(amount=-CUT_EXTRUDE_22_DEPTH, mode=Mode.SUBTRACT)

    # 草图32 → 切除-拉伸23 (cut)
    with BuildSketch(Plane(origin=(0, 7.5, 0), x_dir=(1, 0, 0), z_dir=(0, 1, 0))):
        with Locations(Location((75, 0, 0), (0, 0, 270))):
            Circle(SKETCH_32_R)
    extrude(amount=-CUT_EXTRUDE_23_DEPTH, mode=Mode.SUBTRACT)

    # 草图33 → 切除-拉伸24 (cut)
    with BuildSketch(Plane(origin=(0, 7.5, 0), x_dir=(1, 0, 0), z_dir=(0, 1, 0))):
        with Locations(Location((-99.413384154, 32.328188876, 0), (0, 0, 270))):
            Circle(SKETCH_33_R)
        with Locations(Location((-37.921514772, 52.308108396, 0), (0, 0, 270))):
            Circle(SKETCH_33_R)
        with Locations(Location((-10.421514772, 32.328188876, 0), (0, 0, 270))):
            Circle(SKETCH_33_R)
        with Locations(Location((-10.421514772, -32.328188876, 0), (0, 0, 270))):
            Circle(SKETCH_33_R)
        with Locations(Location((-71.913384154, -52.308108396, 0), (0, 0, 270))):
            Circle(SKETCH_33_R)
        with Locations(Location((-99.413384154, -32.328188876, 0), (0, 0, 270))):
            Circle(SKETCH_33_R)
    extrude(amount=-CUT_EXTRUDE_24_DEPTH, mode=Mode.SUBTRACT)

    # 草图34 → 凸台-拉伸8 (add)
    with BuildSketch(Plane(origin=(0, 7.5, 0), x_dir=(1, 0, 0), z_dir=(0, 1, 0))):
        with Locations((-0.081551926, -112.5)):
            Rectangle(SKETCH_34_W, SKETCH_34_H)
        with Locations((-0.081551926, 112.5)):
            Rectangle(SKETCH_34_W, SKETCH_34_H)
    extrude(amount=-EXTRUDE_8_DEPTH)

    # 圆角9
    fillet_9_edges = [part.edges().sort_by_distance(p)[0] for p in [
        (69.918448074, 3.75, 95),
        (-70.081551926, 3.75, 95),
        (-70.081551926, 3.5, 130),
        (69.918448074, 3.5, 130),
        (69.918448074, 3.75, -95),
        (-70.081551926, 3.75, -95),
        (-70.081551926, 3.5, -130),
        (69.918448074, 3.5, -130),
    ]]
    fillet(fillet_9_edges, radius=FILLET_9_R)

    # 草图36 → 切除-拉伸25 (cut)
    with BuildSketch(Plane(origin=(0, 7.5, 0), x_dir=(1, 0, 0), z_dir=(0, 1, 0))):
        with Locations(Location((9.918448074, 90, 0), (0, 0, 270))):
            Circle(SKETCH_36_R)
    extrude(amount=-CUT_EXTRUDE_25_DEPTH, mode=Mode.SUBTRACT)

    # 草图37 → 切除-拉伸26 (cut)
    with BuildSketch(Plane(origin=(0, 7.5, 0), x_dir=(1, 0, 0), z_dir=(0, 1, 0))):
        with Locations(Location((9.918448074, 90, 0), (0, 0, 270))):
            Circle(SKETCH_37_R)
        with Locations(Location((-30.081551926, 90, 0), (0, 0, 270))):
            Circle(SKETCH_37_R)
        with Locations(Location((9.918448074, -90, 0), (0, 0, 270))):
            Circle(SKETCH_37_R)
        with Locations(Location((-30.081551926, -90, 0), (0, 0, 270))):
            Circle(SKETCH_37_R)
    extrude(amount=-CUT_EXTRUDE_26_DEPTH, mode=Mode.SUBTRACT)

    # 草图38 → 切除-拉伸27 (cut)
    with BuildSketch(Plane(origin=(0, 7.5, 0), x_dir=(1, 0, 0), z_dir=(0, 1, 0))):
        with Locations(Location((75, 0, 0), (0, 0, 270))):
            Circle(SKETCH_38_R)
        with Locations(Location((84.6, -14.35, 0), (0, 0, 270))):
            Circle(SKETCH_38_R_2)
    extrude(amount=-CUT_EXTRUDE_27_DEPTH, mode=Mode.SUBTRACT)

    # 草图39 → 切除-拉伸28 (cut)
    with BuildSketch(Plane(origin=(0, 7.5, 0), x_dir=(1, 0, 0), z_dir=(0, 1, 0))):
        with Locations(Location((84.6, 14.35, 0), (0, 0, 270))):
            Circle(SKETCH_39_R)
    extrude(amount=-CUT_EXTRUDE_28_DEPTH, mode=Mode.SUBTRACT)

    # 草图41 → 凸台-拉伸9 (add)
    with BuildSketch(Plane(origin=(0, 7.5, 0), x_dir=(1, 0, 0), z_dir=(0, 1, 0))):
        with Locations(Location((75, 0, 0), (0, 0, 270))):
            Circle(SKETCH_41_R)
    extrude(amount=-EXTRUDE_9_DEPTH)

    # 草图42 → 切除-拉伸29 (cut)
    with BuildSketch(Plane.XZ):
        Rectangle(SKETCH_42_W, SKETCH_42_H)
    extrude(amount=CUT_EXTRUDE_29_DEPTH, mode=Mode.SUBTRACT)


solid = part.part
